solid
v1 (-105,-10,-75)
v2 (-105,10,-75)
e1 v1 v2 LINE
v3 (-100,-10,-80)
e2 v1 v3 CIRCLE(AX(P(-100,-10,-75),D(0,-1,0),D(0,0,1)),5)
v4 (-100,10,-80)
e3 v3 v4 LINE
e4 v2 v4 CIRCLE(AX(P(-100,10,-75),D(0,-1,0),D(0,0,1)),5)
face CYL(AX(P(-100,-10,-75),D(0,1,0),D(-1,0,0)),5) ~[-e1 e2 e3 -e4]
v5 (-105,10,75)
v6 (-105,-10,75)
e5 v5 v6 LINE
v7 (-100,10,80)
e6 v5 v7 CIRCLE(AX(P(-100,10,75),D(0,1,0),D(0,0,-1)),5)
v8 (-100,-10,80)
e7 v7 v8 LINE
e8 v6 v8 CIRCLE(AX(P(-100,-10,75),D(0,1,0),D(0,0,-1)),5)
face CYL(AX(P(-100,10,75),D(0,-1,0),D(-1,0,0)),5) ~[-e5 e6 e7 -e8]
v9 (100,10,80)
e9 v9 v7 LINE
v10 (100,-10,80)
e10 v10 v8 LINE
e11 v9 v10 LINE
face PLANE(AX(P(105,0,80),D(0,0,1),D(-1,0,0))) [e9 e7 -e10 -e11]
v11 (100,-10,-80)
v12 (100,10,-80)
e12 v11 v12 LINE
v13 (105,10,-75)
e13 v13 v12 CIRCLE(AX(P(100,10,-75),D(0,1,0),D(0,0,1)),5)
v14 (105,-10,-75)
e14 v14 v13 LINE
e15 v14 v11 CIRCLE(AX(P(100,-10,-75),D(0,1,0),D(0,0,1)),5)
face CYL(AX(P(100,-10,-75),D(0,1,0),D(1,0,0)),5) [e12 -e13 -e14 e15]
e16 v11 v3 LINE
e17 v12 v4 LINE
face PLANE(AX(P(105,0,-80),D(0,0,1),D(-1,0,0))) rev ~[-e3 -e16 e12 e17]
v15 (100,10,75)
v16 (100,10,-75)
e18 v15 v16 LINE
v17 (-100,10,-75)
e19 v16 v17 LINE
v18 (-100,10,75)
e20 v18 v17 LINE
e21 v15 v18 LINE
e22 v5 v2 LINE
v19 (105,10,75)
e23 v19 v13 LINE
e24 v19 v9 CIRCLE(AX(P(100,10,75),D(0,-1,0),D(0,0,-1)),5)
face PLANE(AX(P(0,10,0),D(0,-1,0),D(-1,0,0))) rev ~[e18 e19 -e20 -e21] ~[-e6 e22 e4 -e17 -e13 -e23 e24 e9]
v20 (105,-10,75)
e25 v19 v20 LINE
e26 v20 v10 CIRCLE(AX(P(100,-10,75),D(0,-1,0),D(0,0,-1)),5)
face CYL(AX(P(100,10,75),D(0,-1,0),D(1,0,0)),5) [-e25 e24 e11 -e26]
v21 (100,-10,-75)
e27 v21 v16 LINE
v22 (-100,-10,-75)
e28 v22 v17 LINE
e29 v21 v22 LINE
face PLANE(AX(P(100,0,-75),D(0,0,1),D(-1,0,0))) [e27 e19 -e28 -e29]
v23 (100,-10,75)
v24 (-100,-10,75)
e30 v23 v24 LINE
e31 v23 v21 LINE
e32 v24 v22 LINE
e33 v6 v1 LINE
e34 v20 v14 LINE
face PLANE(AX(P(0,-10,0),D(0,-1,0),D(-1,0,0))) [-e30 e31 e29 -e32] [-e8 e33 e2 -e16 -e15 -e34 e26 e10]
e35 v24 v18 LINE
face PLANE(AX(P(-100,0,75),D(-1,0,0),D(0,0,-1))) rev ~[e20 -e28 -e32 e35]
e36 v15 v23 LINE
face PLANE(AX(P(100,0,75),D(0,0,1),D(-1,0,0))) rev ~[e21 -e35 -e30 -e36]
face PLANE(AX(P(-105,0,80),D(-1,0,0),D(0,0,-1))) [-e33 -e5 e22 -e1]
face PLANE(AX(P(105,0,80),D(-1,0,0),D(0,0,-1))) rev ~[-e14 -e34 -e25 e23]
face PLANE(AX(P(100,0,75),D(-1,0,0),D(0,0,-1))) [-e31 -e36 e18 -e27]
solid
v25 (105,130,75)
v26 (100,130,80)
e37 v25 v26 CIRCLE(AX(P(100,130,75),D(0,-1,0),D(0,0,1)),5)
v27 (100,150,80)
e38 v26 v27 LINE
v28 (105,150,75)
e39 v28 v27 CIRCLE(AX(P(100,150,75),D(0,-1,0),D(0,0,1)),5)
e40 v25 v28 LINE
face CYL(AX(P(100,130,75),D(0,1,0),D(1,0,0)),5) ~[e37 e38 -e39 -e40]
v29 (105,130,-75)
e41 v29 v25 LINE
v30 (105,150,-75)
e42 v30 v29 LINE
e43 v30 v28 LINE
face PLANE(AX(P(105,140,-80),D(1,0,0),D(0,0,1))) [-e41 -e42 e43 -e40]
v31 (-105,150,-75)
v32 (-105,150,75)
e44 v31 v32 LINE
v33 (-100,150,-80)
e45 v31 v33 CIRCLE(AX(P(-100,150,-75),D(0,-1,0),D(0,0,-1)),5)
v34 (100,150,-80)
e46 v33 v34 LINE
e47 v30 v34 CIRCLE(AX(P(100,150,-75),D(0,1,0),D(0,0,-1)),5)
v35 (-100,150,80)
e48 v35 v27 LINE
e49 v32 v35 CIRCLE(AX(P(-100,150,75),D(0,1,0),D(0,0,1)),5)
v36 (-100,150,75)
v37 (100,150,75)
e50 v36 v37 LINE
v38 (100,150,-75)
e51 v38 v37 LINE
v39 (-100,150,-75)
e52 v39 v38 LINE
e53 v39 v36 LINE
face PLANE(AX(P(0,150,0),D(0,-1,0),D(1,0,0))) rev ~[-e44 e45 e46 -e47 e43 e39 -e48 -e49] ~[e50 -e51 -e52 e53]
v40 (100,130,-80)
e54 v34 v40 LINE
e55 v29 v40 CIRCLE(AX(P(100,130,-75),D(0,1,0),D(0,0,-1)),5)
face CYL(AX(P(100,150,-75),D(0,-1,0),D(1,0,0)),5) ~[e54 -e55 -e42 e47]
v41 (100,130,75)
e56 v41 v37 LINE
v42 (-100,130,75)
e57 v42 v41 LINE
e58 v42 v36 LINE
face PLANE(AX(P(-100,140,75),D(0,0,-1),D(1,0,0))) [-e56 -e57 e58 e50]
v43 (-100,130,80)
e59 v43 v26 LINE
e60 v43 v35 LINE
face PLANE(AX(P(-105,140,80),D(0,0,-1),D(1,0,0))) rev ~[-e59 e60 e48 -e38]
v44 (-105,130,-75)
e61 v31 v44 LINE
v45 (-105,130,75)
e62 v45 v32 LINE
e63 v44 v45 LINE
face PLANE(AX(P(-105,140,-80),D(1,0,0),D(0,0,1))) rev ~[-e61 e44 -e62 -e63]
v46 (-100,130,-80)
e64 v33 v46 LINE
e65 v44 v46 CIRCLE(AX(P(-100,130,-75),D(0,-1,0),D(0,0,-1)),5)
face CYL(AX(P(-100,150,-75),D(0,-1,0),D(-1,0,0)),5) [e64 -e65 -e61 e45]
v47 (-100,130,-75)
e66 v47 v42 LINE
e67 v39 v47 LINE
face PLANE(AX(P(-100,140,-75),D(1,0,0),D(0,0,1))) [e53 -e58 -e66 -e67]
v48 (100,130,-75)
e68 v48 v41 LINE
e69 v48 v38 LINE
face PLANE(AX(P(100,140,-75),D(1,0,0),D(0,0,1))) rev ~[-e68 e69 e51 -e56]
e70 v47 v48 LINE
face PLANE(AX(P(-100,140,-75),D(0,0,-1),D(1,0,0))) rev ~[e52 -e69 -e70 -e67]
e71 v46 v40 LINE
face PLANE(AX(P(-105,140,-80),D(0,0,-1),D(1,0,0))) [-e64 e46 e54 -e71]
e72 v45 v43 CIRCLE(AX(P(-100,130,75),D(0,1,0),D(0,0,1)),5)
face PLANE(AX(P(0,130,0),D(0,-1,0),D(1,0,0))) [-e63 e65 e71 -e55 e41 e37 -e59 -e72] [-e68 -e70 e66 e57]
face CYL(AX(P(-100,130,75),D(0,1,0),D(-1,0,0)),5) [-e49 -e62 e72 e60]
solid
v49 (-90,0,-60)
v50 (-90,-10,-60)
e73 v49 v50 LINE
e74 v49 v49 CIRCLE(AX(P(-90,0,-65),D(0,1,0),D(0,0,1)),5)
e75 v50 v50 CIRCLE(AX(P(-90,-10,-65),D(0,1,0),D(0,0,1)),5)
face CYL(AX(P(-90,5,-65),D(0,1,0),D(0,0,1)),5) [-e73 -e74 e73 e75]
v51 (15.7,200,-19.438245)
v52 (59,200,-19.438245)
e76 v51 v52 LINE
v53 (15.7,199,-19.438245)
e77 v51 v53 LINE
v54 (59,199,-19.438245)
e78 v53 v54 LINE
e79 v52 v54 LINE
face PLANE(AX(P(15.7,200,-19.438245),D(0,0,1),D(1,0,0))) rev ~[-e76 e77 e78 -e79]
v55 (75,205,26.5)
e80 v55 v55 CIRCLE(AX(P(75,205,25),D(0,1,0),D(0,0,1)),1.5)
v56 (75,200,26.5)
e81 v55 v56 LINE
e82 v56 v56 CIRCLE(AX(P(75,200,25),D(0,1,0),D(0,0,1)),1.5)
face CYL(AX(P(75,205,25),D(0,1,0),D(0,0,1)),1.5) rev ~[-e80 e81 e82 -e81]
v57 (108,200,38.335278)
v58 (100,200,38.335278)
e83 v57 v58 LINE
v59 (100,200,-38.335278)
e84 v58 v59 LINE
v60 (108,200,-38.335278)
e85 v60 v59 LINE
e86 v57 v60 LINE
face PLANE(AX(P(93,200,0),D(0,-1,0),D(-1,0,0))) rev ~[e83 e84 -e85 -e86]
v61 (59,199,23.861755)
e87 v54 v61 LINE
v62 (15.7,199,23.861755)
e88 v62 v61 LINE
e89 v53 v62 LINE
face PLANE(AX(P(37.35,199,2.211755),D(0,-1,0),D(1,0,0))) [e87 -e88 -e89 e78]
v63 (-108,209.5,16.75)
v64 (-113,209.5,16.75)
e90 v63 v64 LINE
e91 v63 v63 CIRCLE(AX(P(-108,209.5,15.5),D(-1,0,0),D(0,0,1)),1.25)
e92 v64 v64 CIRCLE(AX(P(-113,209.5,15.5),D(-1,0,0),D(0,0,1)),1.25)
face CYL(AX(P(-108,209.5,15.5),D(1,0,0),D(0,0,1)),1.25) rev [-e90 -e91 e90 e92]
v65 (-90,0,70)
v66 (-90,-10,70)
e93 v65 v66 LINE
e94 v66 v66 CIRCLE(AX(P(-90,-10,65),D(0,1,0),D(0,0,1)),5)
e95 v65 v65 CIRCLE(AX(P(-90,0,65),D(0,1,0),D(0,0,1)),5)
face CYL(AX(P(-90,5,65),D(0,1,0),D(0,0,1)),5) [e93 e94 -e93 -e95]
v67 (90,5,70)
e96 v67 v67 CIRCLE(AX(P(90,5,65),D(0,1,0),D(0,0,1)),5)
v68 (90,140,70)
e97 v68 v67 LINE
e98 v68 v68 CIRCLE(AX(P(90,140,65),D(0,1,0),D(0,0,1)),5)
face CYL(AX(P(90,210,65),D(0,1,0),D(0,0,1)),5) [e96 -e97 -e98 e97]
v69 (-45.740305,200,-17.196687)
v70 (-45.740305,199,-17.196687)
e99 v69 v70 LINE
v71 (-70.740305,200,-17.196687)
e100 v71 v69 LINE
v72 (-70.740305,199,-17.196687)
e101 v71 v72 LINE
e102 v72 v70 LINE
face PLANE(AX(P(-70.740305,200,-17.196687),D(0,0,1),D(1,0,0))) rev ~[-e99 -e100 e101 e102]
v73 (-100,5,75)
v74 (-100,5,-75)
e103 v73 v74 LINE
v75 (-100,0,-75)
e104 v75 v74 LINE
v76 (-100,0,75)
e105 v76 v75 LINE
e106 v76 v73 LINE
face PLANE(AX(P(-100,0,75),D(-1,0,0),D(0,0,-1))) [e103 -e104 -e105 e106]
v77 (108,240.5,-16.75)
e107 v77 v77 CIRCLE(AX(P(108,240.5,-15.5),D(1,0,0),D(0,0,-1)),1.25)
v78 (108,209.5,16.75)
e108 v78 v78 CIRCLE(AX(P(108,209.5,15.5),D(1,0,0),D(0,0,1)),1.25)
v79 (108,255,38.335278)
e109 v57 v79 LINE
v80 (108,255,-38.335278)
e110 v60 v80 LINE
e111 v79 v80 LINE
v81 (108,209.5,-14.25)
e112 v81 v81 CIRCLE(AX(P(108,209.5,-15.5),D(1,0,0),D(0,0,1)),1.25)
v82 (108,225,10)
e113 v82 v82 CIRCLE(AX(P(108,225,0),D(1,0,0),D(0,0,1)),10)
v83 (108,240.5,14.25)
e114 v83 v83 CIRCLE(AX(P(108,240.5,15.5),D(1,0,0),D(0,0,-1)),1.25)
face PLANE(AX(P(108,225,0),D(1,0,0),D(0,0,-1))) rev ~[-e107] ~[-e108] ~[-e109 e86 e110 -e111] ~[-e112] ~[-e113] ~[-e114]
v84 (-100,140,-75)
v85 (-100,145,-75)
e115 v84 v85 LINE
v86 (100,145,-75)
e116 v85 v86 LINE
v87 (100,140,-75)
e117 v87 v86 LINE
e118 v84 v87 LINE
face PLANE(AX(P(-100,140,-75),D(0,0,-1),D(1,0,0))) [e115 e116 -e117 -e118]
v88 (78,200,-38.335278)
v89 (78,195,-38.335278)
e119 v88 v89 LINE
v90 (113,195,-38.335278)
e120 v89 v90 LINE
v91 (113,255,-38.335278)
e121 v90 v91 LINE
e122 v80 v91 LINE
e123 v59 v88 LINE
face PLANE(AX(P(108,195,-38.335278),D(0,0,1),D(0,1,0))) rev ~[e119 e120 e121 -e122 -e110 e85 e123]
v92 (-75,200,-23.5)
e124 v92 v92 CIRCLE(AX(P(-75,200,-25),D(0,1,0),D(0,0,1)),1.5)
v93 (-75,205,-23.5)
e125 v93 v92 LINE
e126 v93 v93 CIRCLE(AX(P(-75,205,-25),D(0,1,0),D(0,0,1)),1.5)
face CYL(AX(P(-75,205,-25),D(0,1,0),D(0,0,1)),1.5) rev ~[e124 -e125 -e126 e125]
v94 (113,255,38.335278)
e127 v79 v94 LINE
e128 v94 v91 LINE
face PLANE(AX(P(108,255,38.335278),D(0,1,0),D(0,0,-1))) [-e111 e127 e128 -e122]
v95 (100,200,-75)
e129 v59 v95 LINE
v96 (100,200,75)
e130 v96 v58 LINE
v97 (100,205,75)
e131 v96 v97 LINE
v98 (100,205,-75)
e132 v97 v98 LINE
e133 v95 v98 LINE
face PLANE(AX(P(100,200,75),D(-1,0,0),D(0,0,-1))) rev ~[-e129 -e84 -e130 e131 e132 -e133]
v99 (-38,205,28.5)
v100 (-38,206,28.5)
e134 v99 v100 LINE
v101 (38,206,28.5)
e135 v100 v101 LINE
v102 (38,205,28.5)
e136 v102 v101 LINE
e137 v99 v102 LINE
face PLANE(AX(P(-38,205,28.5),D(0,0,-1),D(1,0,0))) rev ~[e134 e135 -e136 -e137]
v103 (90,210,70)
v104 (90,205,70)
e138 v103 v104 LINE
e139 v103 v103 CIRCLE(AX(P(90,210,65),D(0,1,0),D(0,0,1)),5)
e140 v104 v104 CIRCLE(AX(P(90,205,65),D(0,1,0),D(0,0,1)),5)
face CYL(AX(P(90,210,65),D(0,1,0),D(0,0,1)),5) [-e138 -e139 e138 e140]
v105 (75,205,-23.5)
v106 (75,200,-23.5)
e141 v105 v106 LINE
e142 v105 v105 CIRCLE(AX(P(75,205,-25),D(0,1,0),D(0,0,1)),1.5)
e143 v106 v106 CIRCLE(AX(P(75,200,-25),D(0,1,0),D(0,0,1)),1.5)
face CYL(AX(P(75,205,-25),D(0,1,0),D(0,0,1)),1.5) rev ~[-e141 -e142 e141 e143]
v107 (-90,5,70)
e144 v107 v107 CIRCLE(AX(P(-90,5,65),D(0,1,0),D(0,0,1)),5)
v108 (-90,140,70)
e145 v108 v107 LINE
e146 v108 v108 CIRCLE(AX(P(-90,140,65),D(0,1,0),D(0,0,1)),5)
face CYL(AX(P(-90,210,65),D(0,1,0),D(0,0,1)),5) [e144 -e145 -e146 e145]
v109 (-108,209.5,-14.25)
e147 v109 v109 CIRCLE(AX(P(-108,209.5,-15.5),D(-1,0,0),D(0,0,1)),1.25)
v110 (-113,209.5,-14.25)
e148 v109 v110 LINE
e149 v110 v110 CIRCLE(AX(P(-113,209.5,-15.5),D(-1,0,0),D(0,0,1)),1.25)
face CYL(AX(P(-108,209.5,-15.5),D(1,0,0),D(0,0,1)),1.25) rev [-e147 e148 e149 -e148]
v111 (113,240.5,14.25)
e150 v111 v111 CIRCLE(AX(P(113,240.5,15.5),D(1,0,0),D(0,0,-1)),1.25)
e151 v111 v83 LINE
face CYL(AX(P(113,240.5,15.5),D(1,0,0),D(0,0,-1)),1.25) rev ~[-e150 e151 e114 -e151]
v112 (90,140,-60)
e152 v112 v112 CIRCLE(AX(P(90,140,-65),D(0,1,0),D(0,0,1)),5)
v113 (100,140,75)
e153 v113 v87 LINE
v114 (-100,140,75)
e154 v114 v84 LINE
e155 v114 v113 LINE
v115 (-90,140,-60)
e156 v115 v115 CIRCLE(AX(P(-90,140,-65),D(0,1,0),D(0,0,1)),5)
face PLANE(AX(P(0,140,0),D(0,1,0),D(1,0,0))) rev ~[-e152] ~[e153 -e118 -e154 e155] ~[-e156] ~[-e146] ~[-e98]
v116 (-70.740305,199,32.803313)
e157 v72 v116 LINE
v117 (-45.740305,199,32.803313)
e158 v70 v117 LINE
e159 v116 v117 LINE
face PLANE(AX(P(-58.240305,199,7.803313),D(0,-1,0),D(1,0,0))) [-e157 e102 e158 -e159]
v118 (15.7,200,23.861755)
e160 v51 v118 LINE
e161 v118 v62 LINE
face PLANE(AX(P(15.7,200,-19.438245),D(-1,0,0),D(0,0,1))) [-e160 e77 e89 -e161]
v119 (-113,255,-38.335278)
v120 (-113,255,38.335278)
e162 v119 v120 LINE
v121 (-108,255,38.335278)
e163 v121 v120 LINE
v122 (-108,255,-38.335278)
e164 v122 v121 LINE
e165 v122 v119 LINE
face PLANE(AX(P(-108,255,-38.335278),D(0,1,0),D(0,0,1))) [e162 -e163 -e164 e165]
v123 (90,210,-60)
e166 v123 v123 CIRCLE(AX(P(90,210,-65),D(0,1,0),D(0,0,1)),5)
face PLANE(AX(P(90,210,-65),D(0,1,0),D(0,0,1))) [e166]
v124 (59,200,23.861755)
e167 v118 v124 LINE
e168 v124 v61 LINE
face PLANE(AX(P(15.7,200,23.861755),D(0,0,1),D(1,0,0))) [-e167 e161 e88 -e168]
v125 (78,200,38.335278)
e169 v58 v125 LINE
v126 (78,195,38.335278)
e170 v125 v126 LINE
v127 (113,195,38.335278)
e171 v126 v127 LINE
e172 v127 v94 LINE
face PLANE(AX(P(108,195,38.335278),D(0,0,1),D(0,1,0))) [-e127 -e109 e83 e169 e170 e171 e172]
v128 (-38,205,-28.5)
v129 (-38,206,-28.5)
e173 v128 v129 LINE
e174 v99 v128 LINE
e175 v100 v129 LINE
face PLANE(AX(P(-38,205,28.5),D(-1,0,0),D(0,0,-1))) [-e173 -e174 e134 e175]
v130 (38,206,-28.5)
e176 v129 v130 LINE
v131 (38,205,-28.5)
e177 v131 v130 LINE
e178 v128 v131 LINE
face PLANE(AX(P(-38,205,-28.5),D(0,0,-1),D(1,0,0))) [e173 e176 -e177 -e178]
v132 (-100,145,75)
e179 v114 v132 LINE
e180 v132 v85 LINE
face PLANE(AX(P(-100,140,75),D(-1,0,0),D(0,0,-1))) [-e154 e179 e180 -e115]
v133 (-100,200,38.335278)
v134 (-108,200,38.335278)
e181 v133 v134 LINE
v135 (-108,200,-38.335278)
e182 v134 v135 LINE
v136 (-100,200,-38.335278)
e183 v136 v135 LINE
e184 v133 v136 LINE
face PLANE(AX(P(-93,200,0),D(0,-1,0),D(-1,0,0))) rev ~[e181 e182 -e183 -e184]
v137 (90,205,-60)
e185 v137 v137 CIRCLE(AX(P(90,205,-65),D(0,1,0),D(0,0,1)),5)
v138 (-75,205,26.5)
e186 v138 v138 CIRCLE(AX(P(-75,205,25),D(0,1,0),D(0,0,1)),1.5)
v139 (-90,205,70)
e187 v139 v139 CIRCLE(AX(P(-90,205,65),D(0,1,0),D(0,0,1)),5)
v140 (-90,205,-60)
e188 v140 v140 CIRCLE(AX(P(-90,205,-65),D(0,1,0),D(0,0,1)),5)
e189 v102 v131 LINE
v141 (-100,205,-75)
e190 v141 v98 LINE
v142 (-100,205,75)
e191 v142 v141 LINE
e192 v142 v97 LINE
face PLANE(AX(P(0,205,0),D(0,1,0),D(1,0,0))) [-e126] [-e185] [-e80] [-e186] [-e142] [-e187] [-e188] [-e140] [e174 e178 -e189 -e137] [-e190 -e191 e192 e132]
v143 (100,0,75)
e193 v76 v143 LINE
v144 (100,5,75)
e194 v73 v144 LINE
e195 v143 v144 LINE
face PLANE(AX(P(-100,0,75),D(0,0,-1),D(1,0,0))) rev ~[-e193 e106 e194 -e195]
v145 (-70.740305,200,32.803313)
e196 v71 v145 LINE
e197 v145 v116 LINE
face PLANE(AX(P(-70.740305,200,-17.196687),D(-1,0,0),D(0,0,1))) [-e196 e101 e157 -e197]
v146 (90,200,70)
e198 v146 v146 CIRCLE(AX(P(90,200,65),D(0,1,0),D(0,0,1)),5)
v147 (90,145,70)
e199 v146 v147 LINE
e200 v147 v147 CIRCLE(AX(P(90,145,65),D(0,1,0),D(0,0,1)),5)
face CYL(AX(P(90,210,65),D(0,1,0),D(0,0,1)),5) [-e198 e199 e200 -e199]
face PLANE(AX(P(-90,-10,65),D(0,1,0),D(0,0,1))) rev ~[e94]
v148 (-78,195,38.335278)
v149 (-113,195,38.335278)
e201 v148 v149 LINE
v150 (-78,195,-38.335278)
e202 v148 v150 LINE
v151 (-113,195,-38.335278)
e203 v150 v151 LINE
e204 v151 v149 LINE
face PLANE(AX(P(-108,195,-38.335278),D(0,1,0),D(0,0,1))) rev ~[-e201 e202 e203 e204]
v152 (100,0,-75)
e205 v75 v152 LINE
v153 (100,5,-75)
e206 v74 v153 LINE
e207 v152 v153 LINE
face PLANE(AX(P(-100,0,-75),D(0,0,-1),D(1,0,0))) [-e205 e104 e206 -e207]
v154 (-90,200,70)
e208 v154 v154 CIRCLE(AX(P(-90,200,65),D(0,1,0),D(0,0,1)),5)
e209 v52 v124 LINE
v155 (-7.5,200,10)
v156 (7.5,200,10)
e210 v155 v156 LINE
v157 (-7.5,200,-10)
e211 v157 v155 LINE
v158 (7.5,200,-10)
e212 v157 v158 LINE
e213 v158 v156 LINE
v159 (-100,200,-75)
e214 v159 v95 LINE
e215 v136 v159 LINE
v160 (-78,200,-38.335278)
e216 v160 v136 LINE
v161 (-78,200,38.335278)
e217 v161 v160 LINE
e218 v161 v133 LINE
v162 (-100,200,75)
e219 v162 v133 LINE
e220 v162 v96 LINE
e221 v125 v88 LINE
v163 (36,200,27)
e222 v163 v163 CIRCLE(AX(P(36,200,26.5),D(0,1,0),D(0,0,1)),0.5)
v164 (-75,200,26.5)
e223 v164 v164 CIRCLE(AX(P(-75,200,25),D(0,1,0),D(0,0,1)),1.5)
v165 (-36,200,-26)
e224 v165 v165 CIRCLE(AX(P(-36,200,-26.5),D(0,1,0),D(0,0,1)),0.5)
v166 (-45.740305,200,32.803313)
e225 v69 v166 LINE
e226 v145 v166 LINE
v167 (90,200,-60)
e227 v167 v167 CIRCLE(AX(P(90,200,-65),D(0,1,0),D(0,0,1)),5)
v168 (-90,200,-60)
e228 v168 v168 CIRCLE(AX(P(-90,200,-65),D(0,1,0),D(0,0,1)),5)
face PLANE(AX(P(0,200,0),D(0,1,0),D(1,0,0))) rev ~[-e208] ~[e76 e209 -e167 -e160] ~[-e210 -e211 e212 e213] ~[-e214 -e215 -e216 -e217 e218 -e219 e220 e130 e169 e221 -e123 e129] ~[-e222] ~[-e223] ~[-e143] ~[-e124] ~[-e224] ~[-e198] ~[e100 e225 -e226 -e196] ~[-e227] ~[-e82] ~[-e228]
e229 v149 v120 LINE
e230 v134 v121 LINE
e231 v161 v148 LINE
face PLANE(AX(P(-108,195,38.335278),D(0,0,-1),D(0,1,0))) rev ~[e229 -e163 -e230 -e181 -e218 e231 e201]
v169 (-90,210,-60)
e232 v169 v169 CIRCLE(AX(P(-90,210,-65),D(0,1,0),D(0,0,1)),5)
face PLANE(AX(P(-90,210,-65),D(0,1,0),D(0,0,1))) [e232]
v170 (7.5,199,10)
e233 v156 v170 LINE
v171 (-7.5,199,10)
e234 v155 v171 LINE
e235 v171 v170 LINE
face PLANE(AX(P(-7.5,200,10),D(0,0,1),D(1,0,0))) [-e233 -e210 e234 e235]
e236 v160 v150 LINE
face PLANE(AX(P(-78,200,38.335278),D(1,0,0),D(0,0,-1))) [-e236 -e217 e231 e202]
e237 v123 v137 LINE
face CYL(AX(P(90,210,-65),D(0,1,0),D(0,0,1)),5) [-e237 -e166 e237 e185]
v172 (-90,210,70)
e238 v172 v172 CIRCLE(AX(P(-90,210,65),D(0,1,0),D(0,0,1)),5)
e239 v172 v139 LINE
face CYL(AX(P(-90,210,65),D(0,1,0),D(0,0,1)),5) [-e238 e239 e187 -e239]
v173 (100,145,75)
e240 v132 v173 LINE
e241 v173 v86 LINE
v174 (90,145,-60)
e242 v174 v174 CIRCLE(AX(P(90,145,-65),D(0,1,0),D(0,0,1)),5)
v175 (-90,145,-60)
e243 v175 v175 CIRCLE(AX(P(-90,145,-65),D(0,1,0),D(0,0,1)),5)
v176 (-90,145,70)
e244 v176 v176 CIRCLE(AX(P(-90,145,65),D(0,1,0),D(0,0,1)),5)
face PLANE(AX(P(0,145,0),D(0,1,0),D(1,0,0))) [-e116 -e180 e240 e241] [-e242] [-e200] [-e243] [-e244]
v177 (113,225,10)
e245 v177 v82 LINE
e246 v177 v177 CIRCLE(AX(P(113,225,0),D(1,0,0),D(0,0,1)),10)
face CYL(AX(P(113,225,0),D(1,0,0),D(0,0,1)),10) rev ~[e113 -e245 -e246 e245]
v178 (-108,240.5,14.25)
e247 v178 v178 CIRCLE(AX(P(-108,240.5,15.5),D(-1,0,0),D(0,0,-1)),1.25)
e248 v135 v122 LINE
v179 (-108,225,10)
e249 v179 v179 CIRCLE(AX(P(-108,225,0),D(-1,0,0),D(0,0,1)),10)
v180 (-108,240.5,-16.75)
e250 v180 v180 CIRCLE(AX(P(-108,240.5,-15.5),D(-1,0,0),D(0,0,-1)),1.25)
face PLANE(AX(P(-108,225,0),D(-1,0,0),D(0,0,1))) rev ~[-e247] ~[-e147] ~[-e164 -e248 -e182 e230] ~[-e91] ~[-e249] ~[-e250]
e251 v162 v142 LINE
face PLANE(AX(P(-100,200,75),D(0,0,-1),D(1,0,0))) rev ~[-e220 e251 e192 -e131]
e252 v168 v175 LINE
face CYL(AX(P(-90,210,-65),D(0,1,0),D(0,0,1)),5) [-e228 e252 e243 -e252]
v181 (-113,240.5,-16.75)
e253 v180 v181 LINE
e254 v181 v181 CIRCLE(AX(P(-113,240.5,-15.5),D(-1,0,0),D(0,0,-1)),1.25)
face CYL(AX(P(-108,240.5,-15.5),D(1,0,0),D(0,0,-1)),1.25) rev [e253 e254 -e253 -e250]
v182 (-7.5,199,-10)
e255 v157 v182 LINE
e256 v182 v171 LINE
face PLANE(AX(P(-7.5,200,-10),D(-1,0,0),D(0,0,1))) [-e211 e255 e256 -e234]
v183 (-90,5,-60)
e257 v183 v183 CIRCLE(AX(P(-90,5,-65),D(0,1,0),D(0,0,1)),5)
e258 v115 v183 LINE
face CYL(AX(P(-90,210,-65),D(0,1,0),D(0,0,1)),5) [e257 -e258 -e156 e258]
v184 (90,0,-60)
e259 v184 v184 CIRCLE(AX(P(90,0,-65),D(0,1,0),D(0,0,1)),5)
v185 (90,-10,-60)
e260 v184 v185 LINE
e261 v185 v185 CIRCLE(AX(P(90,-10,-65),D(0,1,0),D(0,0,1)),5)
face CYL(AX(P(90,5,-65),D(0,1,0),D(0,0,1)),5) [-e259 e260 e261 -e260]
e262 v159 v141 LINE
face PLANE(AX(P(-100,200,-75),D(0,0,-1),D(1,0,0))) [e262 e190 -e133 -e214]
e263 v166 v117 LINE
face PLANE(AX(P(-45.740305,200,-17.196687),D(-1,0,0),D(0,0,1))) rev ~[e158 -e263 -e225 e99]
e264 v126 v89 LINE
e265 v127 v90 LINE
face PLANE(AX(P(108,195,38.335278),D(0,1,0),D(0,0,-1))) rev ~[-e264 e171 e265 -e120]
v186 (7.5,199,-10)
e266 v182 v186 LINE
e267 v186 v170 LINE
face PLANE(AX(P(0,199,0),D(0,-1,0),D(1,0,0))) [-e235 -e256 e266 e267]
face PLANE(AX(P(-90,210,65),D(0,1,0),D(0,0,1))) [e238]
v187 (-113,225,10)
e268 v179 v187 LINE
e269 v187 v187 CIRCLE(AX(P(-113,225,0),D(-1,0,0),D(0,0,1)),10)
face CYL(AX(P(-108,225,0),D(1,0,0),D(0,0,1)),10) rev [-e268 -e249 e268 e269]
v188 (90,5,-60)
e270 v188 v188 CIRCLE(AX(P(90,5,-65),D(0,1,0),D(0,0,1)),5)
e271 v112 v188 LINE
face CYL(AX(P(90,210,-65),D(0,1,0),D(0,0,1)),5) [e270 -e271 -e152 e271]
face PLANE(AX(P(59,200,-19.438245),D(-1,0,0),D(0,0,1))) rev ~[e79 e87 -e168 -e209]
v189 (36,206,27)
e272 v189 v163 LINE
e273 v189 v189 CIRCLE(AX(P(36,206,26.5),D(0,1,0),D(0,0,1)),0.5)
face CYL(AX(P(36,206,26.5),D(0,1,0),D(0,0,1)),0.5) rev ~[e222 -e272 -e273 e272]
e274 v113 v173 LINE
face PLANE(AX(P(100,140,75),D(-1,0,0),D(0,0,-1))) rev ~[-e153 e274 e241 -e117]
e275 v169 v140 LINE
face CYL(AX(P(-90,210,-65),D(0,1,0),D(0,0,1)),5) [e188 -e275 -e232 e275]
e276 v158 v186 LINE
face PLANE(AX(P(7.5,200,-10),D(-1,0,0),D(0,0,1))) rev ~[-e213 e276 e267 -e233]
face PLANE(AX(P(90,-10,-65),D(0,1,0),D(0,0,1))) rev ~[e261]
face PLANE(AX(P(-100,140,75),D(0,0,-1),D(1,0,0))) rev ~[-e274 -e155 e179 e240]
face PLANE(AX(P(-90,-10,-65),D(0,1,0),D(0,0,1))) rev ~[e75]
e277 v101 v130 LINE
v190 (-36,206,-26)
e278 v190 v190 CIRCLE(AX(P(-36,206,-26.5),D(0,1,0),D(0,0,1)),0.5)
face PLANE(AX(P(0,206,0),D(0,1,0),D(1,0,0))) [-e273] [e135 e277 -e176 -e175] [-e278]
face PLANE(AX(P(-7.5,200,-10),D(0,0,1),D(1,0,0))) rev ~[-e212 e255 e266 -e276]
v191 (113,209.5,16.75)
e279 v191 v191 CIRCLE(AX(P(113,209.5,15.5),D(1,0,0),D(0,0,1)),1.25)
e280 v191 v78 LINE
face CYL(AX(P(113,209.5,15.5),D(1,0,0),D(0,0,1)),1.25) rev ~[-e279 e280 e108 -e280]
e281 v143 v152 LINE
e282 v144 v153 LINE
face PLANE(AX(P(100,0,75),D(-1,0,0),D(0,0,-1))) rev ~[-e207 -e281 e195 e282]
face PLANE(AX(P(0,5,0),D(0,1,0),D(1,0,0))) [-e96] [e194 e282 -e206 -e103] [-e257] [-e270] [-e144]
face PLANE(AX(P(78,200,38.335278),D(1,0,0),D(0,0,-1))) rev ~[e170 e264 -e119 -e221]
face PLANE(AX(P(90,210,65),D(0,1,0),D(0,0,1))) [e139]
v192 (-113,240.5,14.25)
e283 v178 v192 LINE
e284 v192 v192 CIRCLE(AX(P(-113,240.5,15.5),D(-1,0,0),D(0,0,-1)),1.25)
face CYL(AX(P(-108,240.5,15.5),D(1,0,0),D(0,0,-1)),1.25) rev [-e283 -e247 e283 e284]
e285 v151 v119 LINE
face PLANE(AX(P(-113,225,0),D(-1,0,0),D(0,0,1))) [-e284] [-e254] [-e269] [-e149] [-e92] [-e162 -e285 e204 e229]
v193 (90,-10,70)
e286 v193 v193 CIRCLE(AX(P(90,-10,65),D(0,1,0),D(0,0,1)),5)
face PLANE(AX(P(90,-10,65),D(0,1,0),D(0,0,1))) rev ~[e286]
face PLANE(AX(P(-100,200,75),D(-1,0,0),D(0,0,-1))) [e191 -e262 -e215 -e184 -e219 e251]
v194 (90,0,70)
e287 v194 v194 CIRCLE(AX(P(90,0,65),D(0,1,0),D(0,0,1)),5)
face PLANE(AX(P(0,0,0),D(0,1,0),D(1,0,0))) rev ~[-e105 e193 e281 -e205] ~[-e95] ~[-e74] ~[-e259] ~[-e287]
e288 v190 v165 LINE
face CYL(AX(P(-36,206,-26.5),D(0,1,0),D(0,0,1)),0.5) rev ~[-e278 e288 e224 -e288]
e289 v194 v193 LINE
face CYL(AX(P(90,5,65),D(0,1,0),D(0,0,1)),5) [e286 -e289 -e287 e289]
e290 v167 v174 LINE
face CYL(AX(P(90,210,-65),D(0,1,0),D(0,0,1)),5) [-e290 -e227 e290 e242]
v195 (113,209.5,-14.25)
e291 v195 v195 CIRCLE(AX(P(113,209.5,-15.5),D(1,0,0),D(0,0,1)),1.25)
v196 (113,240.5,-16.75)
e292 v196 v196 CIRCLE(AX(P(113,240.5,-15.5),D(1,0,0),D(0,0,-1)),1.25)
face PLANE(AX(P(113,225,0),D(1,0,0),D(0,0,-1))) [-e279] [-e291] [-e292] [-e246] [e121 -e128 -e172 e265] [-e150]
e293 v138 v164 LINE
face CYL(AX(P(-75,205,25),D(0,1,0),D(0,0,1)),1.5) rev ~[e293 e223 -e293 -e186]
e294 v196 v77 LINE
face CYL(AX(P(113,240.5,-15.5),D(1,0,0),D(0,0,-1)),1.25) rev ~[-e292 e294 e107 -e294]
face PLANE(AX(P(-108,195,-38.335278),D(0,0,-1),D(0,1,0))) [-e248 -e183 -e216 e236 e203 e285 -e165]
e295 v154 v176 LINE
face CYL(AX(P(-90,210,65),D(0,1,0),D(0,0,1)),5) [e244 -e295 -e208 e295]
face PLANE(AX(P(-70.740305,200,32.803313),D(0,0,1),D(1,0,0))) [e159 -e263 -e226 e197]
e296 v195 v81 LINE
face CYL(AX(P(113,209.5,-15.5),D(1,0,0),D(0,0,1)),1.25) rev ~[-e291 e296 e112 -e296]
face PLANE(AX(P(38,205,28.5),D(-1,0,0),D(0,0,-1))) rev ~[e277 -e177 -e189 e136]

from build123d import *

# Parameters (mm, degrees)
SKETCH1_W            = 200
SKETCH1_H            = 150
BOSS_EXTRUDE1_DEPTH  = 5
SKETCH2_R            = 5
CUT_EXTRUDE1_DEPTH   = 10
SKETCH3_W            = 200
SKETCH3_H            = 150
SKETCH3_R            = 5
BOSS_EXTRUDE2_DEPTH  = 5
SKETCH4_W            = 200
SKETCH4_H            = 150
SKETCH4_R            = 5
BOSS_EXTRUDE3_DEPTH  = 5
BOSS_EXTRUDE13_START = 205
SKETCH21_R           = 5
BOSS_EXTRUDE13_DEPTH = 205
SKETCH22_R           = 5
BOSS_EXTRUDE14_DEPTH = 15
SKETCH23_R           = 1.5
CUT_EXTRUDE2_DEPTH   = 10
SKETCH27_W           = 76
SKETCH27_H           = 57
BOSS_EXTRUDE16_DEPTH = 1
SKETCH30_R           = 0.5
CUT_EXTRUDE3_DEPTH   = 30
SKETCH35_W           = 210
SKETCH35_H           = 160
SKETCH35_W_2         = 200
SKETCH35_H_2         = 150
BOSS_EXTRUDE19_DEPTH = 10
FILLET4_R            = 5
SKETCH39_W           = 210
SKETCH39_H           = 160
SKETCH39_W_2         = 200
SKETCH39_H_2         = 150
BOSS_EXTRUDE20_DEPTH = 10
FILLET5_R            = 5
SKETCH42_W           = 15
SKETCH42_H           = 20
SKETCH42_W_2         = 25
SKETCH42_H_2         = 50
SKETCH42_W_3         = 43.3
SKETCH42_H_3         = 43.3
BOSS_EXTRUDE23_DEPTH = 1
SKETCH46_W           = 30
SKETCH46_H           = 76.670556204
BOSS_EXTRUDE24_DEPTH = 5
SKETCH48_W           = 76.670556204
SKETCH48_H           = 60
SKETCH48_R           = 1.25
SKETCH48_R_2         = 10
BOSS_EXTRUDE25_DEPTH = 5
SKETCH54_W           = 76.670556204
SKETCH54_H           = 60
BOSS_EXTRUDE26_DEPTH = 5
SKETCH55_R           = 1.25
SKETCH55_R_2         = 10
CUT_EXTRUDE4_DEPTH   = 10


with BuildPart() as part:
    # Sketch1 → Boss-Extrude1 (new body)
    with BuildSketch(Plane(origin=(0, 0, 0), x_dir=(1, 0, 0), z_dir=(0, 1, 0))):
        Rectangle(SKETCH1_W, SKETCH1_H)
    extrude(amount=BOSS_EXTRUDE1_DEPTH)

    # Sketch2 → Cut-Extrude1 (cut)
    with BuildSketch(Plane(origin=(0, 5, 0), x_dir=(1, 0, 0), z_dir=(0, 1, 0))):
        with Locations(Location((-90, 65, 0), (0, 0, 270))):
            Circle(SKETCH2_R)
        with Locations(Location((90, 65, 0), (0, 0, 270))):
            Circle(SKETCH2_R)
        with Locations(Location((90, -65, 0), (0, 0, 270))):
            Circle(SKETCH2_R)
        with Locations(Location((-90, -65, 0), (0, 0, 270))):
            Circle(SKETCH2_R)
    extrude(amount=-CUT_EXTRUDE1_DEPTH, mode=Mode.SUBTRACT)



with BuildPart() as body_2:
    # Sketch3 → Boss-Extrude2 (new body)
    with BuildSketch(Plane(origin=(0, 140, 0), x_dir=(1, 0, 0), z_dir=(0, 1, 0))):
        Rectangle(SKETCH3_W, SKETCH3_H)
        with Locations(Location((-90, 65, 0), (0, 0, 270))):
            Circle(SKETCH3_R, mode=Mode.SUBTRACT)
        with Locations(Location((90, 65, 0), (0, 0, 270))):
            Circle(SKETCH3_R, mode=Mode.SUBTRACT)
        with Locations(Location((-90, -65, 0), (0, 0, 270))):
            Circle(SKETCH3_R, mode=Mode.SUBTRACT)
        with Locations(Location((90, -65, 0), (0, 0, 270))):
            Circle(SKETCH3_R, mode=Mode.SUBTRACT)
    extrude(amount=BOSS_EXTRUDE2_DEPTH)



with BuildPart() as body_3:
    # Sketch4 → Boss-Extrude3 (new body)
    with BuildSketch(Plane(origin=(0, 200, 0), x_dir=(1, 0, 0), z_dir=(0, 1, 0))):
        Rectangle(SKETCH4_W, SKETCH4_H)
        with Locations(Location((-90, 65, 0), (0, 0, 270))):
            Circle(SKETCH4_R, mode=Mode.SUBTRACT)
        with Locations(Location((90, 65, 0), (0, 0, 270))):
            Circle(SKETCH4_R, mode=Mode.SUBTRACT)
        with Locations(Location((90, -65, 0), (0, 0, 270))):
            Circle(SKETCH4_R, mode=Mode.SUBTRACT)
        with Locations(Location((-90, -65, 0), (0, 0, 270))):
            Circle(SKETCH4_R, mode=Mode.SUBTRACT)
    extrude(amount=BOSS_EXTRUDE3_DEPTH)


with BuildPart() as body_2_1:
    add(body_2.part)

    add(body_3.part)  # Boss-Extrude13 merges body 3
    # Sketch21 → Boss-Extrude13 (add)
    with BuildSketch(Plane(origin=(0, 5, 0), x_dir=(1, 0, 0), z_dir=(0, 1, 0)).offset(BOSS_EXTRUDE13_START)):
        with Locations(Location((-90, -65, 0), (0, 0, 270))):
            Circle(SKETCH21_R)
        with Locations(Location((-90, 65, 0), (0, 0, 270))):
            Circle(SKETCH21_R)
        with Locations(Location((90, 65, 0), (0, 0, 270))):
            Circle(SKETCH21_R)
        with Locations(Location((90, -65, 0), (0, 0, 270))):
            Circle(SKETCH21_R)
    extrude(amount=-BOSS_EXTRUDE13_DEPTH)


with BuildPart() as part_1:
    add(part.part)

    add(body_2_1.part)  # Boss-Extrude14 merges body 2
    # Sketch22 → Boss-Extrude14 (add)
    with BuildSketch(Plane(origin=(0, 5, 0), x_dir=(1, 0, 0), z_dir=(0, 1, 0))):
        with Locations(Location((-90, 65, 0), (0, 0, 270))):
            Circle(SKETCH22_R)
        with Locations(Location((-90, -65, 0), (0, 0, 270))):
            Circle(SKETCH22_R)
        with Locations(Location((90, -65, 0), (0, 0, 270))):
            Circle(SKETCH22_R)
        with Locations(Location((90, 65, 0), (0, 0, 270))):
            Circle(SKETCH22_R)
    extrude(amount=-BOSS_EXTRUDE14_DEPTH)

    # Sketch23 → Cut-Extrude2 (cut)
    with BuildSketch(Plane(origin=(0, 205, 0), x_dir=(1, 0, 0), z_dir=(0, 1, 0))):
        with Locations(Location((-75, 25, 0), (0, 0, 270))):
            Circle(SKETCH23_R)
        with Locations(Location((-75, -25, 0), (0, 0, 270))):
            Circle(SKETCH23_R)
        with Locations(Location((75, -25, 0), (0, 0, 270))):
            Circle(SKETCH23_R)
        with Locations(Location((75, 25, 0), (0, 0, 270))):
            Circle(SKETCH23_R)
    extrude(amount=-CUT_EXTRUDE2_DEPTH, mode=Mode.SUBTRACT)

    # Sketch27 → Boss-Extrude16 (add)
    with BuildSketch(Plane(origin=(0, 205, 0), x_dir=(1, 0, 0), z_dir=(0, 1, 0))):
        Rectangle(SKETCH27_W, SKETCH27_H)
    extrude(amount=BOSS_EXTRUDE16_DEPTH)

    # Sketch30 → Cut-Extrude3 (cut)
    with BuildSketch(Plane(origin=(0, 206, 0), x_dir=(1, 0, 0), z_dir=(0, 1, 0))):
        with Locations(Location((-36, 26.5, 0), (0, 0, 270))):
            Circle(SKETCH30_R)
        with Locations(Location((36, -26.5, 0), (0, 0, 270))):
            Circle(SKETCH30_R)
    extrude(amount=-CUT_EXTRUDE3_DEPTH, mode=Mode.SUBTRACT)

    # Sketch42 → Boss-Extrude23 (add)
    with BuildSketch(Plane.XZ.offset(-200)):
        Rectangle(SKETCH42_W, SKETCH42_H)
        with Locations((-58.240305189, 7.803312526)):
            Rectangle(SKETCH42_W_2, SKETCH42_H_2)
        with Locations((37.35, 2.211754737)):
            Rectangle(SKETCH42_W_3, SKETCH42_H_3)
    extrude(amount=BOSS_EXTRUDE23_DEPTH)

    # Sketch46 → Boss-Extrude24 (add)
    with BuildSketch(Plane(origin=(0, 200, 0), x_dir=(-1, 0, 0), z_dir=(0, -1, 0))):
        with Locations((-93, 0)):
            Rectangle(SKETCH46_W, SKETCH46_H)
        with Locations((93, 0)):
            Rectangle(SKETCH46_W, SKETCH46_H)
    extrude(amount=BOSS_EXTRUDE24_DEPTH)

    # Sketch48 → Boss-Extrude25 (add)
    with BuildSketch(Plane.ZY.offset(108)):
        with Locations((0, 225)):
            Rectangle(SKETCH48_W, SKETCH48_H)
        with Locations((-15.5, 209.5)):
            Circle(SKETCH48_R, mode=Mode.SUBTRACT)
        with Locations((15.5, 209.5)):
            Circle(SKETCH48_R, mode=Mode.SUBTRACT)
        with Locations(Location((15.5, 240.5, 0), (0, 0, 180))):
            Circle(SKETCH48_R, mode=Mode.SUBTRACT)
        with Locations(Location((-15.5, 240.5, 0), (0, 0, 180))):
            Circle(SKETCH48_R, mode=Mode.SUBTRACT)
        with Locations((0, 225)):
            Circle(SKETCH48_R_2, mode=Mode.SUBTRACT)
    extrude(amount=BOSS_EXTRUDE25_DEPTH)

    # Sketch54 → Boss-Extrude26 (add)
    with BuildSketch(Plane(origin=(108, 0, 0), x_dir=(0, 0, -1), z_dir=(1, 0, 0))):
        with Locations((0, 225)):
            Rectangle(SKETCH54_W, SKETCH54_H)
    extrude(amount=BOSS_EXTRUDE26_DEPTH)

    # Sketch55 → Cut-Extrude4 (cut)
    with BuildSketch(Plane(origin=(113, 0, 0), x_dir=(0, 0, -1), z_dir=(1, 0, 0))):
        with Locations(Location((-15.5, 209.5, 0), (0, 0, 180))):
            Circle(SKETCH55_R)
        with Locations(Location((15.5, 209.5, 0), (0, 0, 180))):
            Circle(SKETCH55_R)
        with Locations((15.5, 240.5)):
            Circle(SKETCH55_R)
        with Locations((-15.5, 240.5)):
            Circle(SKETCH55_R)
        with Locations(Location((0, 225, 0), (0, 0, 180))):
            Circle(SKETCH55_R_2)
    extrude(amount=-CUT_EXTRUDE4_DEPTH, mode=Mode.SUBTRACT)


with BuildPart() as body_2_2:
    # Sketch35 → Boss-Extrude19 (new, symmetric)
    with BuildSketch(Plane(origin=(0, 0, 0), x_dir=(-1, 0, 0), z_dir=(0, -1, 0))):
        Rectangle(SKETCH35_W, SKETCH35_H)
        Rectangle(SKETCH35_W_2, SKETCH35_H_2, mode=Mode.SUBTRACT)
    extrude(amount=BOSS_EXTRUDE19_DEPTH, both=True)

    # Fillet4
    fillet4_edges = [body_2_2.edges().sort_by_distance(p)[0] for p in [
        (105, 0, -80),
        (-105, 0, -80),
        (-105, 0, 80),
        (105, 0, 80),
    ]]
    fillet(fillet4_edges, radius=FILLET4_R)


with BuildPart() as body_3_2:
    # Sketch39 → Boss-Extrude20 (new, symmetric)
    with BuildSketch(Plane.XZ.offset(-140)):
        Rectangle(SKETCH39_W, SKETCH39_H)
        Rectangle(SKETCH39_W_2, SKETCH39_H_2, mode=Mode.SUBTRACT)
    extrude(amount=BOSS_EXTRUDE20_DEPTH, both=True)

    # Fillet5
    fillet5_edges = [body_3_2.edges().sort_by_distance(p)[0] for p in [
        (105, 140, -80),
        (-105, 140, -80),
        (-105, 140, 80),
        (105, 140, 80),
    ]]
    fillet(fillet5_edges, radius=FILLET5_R)


solid = Compound([part_1.part, body_2_2.part, body_3_2.part])
